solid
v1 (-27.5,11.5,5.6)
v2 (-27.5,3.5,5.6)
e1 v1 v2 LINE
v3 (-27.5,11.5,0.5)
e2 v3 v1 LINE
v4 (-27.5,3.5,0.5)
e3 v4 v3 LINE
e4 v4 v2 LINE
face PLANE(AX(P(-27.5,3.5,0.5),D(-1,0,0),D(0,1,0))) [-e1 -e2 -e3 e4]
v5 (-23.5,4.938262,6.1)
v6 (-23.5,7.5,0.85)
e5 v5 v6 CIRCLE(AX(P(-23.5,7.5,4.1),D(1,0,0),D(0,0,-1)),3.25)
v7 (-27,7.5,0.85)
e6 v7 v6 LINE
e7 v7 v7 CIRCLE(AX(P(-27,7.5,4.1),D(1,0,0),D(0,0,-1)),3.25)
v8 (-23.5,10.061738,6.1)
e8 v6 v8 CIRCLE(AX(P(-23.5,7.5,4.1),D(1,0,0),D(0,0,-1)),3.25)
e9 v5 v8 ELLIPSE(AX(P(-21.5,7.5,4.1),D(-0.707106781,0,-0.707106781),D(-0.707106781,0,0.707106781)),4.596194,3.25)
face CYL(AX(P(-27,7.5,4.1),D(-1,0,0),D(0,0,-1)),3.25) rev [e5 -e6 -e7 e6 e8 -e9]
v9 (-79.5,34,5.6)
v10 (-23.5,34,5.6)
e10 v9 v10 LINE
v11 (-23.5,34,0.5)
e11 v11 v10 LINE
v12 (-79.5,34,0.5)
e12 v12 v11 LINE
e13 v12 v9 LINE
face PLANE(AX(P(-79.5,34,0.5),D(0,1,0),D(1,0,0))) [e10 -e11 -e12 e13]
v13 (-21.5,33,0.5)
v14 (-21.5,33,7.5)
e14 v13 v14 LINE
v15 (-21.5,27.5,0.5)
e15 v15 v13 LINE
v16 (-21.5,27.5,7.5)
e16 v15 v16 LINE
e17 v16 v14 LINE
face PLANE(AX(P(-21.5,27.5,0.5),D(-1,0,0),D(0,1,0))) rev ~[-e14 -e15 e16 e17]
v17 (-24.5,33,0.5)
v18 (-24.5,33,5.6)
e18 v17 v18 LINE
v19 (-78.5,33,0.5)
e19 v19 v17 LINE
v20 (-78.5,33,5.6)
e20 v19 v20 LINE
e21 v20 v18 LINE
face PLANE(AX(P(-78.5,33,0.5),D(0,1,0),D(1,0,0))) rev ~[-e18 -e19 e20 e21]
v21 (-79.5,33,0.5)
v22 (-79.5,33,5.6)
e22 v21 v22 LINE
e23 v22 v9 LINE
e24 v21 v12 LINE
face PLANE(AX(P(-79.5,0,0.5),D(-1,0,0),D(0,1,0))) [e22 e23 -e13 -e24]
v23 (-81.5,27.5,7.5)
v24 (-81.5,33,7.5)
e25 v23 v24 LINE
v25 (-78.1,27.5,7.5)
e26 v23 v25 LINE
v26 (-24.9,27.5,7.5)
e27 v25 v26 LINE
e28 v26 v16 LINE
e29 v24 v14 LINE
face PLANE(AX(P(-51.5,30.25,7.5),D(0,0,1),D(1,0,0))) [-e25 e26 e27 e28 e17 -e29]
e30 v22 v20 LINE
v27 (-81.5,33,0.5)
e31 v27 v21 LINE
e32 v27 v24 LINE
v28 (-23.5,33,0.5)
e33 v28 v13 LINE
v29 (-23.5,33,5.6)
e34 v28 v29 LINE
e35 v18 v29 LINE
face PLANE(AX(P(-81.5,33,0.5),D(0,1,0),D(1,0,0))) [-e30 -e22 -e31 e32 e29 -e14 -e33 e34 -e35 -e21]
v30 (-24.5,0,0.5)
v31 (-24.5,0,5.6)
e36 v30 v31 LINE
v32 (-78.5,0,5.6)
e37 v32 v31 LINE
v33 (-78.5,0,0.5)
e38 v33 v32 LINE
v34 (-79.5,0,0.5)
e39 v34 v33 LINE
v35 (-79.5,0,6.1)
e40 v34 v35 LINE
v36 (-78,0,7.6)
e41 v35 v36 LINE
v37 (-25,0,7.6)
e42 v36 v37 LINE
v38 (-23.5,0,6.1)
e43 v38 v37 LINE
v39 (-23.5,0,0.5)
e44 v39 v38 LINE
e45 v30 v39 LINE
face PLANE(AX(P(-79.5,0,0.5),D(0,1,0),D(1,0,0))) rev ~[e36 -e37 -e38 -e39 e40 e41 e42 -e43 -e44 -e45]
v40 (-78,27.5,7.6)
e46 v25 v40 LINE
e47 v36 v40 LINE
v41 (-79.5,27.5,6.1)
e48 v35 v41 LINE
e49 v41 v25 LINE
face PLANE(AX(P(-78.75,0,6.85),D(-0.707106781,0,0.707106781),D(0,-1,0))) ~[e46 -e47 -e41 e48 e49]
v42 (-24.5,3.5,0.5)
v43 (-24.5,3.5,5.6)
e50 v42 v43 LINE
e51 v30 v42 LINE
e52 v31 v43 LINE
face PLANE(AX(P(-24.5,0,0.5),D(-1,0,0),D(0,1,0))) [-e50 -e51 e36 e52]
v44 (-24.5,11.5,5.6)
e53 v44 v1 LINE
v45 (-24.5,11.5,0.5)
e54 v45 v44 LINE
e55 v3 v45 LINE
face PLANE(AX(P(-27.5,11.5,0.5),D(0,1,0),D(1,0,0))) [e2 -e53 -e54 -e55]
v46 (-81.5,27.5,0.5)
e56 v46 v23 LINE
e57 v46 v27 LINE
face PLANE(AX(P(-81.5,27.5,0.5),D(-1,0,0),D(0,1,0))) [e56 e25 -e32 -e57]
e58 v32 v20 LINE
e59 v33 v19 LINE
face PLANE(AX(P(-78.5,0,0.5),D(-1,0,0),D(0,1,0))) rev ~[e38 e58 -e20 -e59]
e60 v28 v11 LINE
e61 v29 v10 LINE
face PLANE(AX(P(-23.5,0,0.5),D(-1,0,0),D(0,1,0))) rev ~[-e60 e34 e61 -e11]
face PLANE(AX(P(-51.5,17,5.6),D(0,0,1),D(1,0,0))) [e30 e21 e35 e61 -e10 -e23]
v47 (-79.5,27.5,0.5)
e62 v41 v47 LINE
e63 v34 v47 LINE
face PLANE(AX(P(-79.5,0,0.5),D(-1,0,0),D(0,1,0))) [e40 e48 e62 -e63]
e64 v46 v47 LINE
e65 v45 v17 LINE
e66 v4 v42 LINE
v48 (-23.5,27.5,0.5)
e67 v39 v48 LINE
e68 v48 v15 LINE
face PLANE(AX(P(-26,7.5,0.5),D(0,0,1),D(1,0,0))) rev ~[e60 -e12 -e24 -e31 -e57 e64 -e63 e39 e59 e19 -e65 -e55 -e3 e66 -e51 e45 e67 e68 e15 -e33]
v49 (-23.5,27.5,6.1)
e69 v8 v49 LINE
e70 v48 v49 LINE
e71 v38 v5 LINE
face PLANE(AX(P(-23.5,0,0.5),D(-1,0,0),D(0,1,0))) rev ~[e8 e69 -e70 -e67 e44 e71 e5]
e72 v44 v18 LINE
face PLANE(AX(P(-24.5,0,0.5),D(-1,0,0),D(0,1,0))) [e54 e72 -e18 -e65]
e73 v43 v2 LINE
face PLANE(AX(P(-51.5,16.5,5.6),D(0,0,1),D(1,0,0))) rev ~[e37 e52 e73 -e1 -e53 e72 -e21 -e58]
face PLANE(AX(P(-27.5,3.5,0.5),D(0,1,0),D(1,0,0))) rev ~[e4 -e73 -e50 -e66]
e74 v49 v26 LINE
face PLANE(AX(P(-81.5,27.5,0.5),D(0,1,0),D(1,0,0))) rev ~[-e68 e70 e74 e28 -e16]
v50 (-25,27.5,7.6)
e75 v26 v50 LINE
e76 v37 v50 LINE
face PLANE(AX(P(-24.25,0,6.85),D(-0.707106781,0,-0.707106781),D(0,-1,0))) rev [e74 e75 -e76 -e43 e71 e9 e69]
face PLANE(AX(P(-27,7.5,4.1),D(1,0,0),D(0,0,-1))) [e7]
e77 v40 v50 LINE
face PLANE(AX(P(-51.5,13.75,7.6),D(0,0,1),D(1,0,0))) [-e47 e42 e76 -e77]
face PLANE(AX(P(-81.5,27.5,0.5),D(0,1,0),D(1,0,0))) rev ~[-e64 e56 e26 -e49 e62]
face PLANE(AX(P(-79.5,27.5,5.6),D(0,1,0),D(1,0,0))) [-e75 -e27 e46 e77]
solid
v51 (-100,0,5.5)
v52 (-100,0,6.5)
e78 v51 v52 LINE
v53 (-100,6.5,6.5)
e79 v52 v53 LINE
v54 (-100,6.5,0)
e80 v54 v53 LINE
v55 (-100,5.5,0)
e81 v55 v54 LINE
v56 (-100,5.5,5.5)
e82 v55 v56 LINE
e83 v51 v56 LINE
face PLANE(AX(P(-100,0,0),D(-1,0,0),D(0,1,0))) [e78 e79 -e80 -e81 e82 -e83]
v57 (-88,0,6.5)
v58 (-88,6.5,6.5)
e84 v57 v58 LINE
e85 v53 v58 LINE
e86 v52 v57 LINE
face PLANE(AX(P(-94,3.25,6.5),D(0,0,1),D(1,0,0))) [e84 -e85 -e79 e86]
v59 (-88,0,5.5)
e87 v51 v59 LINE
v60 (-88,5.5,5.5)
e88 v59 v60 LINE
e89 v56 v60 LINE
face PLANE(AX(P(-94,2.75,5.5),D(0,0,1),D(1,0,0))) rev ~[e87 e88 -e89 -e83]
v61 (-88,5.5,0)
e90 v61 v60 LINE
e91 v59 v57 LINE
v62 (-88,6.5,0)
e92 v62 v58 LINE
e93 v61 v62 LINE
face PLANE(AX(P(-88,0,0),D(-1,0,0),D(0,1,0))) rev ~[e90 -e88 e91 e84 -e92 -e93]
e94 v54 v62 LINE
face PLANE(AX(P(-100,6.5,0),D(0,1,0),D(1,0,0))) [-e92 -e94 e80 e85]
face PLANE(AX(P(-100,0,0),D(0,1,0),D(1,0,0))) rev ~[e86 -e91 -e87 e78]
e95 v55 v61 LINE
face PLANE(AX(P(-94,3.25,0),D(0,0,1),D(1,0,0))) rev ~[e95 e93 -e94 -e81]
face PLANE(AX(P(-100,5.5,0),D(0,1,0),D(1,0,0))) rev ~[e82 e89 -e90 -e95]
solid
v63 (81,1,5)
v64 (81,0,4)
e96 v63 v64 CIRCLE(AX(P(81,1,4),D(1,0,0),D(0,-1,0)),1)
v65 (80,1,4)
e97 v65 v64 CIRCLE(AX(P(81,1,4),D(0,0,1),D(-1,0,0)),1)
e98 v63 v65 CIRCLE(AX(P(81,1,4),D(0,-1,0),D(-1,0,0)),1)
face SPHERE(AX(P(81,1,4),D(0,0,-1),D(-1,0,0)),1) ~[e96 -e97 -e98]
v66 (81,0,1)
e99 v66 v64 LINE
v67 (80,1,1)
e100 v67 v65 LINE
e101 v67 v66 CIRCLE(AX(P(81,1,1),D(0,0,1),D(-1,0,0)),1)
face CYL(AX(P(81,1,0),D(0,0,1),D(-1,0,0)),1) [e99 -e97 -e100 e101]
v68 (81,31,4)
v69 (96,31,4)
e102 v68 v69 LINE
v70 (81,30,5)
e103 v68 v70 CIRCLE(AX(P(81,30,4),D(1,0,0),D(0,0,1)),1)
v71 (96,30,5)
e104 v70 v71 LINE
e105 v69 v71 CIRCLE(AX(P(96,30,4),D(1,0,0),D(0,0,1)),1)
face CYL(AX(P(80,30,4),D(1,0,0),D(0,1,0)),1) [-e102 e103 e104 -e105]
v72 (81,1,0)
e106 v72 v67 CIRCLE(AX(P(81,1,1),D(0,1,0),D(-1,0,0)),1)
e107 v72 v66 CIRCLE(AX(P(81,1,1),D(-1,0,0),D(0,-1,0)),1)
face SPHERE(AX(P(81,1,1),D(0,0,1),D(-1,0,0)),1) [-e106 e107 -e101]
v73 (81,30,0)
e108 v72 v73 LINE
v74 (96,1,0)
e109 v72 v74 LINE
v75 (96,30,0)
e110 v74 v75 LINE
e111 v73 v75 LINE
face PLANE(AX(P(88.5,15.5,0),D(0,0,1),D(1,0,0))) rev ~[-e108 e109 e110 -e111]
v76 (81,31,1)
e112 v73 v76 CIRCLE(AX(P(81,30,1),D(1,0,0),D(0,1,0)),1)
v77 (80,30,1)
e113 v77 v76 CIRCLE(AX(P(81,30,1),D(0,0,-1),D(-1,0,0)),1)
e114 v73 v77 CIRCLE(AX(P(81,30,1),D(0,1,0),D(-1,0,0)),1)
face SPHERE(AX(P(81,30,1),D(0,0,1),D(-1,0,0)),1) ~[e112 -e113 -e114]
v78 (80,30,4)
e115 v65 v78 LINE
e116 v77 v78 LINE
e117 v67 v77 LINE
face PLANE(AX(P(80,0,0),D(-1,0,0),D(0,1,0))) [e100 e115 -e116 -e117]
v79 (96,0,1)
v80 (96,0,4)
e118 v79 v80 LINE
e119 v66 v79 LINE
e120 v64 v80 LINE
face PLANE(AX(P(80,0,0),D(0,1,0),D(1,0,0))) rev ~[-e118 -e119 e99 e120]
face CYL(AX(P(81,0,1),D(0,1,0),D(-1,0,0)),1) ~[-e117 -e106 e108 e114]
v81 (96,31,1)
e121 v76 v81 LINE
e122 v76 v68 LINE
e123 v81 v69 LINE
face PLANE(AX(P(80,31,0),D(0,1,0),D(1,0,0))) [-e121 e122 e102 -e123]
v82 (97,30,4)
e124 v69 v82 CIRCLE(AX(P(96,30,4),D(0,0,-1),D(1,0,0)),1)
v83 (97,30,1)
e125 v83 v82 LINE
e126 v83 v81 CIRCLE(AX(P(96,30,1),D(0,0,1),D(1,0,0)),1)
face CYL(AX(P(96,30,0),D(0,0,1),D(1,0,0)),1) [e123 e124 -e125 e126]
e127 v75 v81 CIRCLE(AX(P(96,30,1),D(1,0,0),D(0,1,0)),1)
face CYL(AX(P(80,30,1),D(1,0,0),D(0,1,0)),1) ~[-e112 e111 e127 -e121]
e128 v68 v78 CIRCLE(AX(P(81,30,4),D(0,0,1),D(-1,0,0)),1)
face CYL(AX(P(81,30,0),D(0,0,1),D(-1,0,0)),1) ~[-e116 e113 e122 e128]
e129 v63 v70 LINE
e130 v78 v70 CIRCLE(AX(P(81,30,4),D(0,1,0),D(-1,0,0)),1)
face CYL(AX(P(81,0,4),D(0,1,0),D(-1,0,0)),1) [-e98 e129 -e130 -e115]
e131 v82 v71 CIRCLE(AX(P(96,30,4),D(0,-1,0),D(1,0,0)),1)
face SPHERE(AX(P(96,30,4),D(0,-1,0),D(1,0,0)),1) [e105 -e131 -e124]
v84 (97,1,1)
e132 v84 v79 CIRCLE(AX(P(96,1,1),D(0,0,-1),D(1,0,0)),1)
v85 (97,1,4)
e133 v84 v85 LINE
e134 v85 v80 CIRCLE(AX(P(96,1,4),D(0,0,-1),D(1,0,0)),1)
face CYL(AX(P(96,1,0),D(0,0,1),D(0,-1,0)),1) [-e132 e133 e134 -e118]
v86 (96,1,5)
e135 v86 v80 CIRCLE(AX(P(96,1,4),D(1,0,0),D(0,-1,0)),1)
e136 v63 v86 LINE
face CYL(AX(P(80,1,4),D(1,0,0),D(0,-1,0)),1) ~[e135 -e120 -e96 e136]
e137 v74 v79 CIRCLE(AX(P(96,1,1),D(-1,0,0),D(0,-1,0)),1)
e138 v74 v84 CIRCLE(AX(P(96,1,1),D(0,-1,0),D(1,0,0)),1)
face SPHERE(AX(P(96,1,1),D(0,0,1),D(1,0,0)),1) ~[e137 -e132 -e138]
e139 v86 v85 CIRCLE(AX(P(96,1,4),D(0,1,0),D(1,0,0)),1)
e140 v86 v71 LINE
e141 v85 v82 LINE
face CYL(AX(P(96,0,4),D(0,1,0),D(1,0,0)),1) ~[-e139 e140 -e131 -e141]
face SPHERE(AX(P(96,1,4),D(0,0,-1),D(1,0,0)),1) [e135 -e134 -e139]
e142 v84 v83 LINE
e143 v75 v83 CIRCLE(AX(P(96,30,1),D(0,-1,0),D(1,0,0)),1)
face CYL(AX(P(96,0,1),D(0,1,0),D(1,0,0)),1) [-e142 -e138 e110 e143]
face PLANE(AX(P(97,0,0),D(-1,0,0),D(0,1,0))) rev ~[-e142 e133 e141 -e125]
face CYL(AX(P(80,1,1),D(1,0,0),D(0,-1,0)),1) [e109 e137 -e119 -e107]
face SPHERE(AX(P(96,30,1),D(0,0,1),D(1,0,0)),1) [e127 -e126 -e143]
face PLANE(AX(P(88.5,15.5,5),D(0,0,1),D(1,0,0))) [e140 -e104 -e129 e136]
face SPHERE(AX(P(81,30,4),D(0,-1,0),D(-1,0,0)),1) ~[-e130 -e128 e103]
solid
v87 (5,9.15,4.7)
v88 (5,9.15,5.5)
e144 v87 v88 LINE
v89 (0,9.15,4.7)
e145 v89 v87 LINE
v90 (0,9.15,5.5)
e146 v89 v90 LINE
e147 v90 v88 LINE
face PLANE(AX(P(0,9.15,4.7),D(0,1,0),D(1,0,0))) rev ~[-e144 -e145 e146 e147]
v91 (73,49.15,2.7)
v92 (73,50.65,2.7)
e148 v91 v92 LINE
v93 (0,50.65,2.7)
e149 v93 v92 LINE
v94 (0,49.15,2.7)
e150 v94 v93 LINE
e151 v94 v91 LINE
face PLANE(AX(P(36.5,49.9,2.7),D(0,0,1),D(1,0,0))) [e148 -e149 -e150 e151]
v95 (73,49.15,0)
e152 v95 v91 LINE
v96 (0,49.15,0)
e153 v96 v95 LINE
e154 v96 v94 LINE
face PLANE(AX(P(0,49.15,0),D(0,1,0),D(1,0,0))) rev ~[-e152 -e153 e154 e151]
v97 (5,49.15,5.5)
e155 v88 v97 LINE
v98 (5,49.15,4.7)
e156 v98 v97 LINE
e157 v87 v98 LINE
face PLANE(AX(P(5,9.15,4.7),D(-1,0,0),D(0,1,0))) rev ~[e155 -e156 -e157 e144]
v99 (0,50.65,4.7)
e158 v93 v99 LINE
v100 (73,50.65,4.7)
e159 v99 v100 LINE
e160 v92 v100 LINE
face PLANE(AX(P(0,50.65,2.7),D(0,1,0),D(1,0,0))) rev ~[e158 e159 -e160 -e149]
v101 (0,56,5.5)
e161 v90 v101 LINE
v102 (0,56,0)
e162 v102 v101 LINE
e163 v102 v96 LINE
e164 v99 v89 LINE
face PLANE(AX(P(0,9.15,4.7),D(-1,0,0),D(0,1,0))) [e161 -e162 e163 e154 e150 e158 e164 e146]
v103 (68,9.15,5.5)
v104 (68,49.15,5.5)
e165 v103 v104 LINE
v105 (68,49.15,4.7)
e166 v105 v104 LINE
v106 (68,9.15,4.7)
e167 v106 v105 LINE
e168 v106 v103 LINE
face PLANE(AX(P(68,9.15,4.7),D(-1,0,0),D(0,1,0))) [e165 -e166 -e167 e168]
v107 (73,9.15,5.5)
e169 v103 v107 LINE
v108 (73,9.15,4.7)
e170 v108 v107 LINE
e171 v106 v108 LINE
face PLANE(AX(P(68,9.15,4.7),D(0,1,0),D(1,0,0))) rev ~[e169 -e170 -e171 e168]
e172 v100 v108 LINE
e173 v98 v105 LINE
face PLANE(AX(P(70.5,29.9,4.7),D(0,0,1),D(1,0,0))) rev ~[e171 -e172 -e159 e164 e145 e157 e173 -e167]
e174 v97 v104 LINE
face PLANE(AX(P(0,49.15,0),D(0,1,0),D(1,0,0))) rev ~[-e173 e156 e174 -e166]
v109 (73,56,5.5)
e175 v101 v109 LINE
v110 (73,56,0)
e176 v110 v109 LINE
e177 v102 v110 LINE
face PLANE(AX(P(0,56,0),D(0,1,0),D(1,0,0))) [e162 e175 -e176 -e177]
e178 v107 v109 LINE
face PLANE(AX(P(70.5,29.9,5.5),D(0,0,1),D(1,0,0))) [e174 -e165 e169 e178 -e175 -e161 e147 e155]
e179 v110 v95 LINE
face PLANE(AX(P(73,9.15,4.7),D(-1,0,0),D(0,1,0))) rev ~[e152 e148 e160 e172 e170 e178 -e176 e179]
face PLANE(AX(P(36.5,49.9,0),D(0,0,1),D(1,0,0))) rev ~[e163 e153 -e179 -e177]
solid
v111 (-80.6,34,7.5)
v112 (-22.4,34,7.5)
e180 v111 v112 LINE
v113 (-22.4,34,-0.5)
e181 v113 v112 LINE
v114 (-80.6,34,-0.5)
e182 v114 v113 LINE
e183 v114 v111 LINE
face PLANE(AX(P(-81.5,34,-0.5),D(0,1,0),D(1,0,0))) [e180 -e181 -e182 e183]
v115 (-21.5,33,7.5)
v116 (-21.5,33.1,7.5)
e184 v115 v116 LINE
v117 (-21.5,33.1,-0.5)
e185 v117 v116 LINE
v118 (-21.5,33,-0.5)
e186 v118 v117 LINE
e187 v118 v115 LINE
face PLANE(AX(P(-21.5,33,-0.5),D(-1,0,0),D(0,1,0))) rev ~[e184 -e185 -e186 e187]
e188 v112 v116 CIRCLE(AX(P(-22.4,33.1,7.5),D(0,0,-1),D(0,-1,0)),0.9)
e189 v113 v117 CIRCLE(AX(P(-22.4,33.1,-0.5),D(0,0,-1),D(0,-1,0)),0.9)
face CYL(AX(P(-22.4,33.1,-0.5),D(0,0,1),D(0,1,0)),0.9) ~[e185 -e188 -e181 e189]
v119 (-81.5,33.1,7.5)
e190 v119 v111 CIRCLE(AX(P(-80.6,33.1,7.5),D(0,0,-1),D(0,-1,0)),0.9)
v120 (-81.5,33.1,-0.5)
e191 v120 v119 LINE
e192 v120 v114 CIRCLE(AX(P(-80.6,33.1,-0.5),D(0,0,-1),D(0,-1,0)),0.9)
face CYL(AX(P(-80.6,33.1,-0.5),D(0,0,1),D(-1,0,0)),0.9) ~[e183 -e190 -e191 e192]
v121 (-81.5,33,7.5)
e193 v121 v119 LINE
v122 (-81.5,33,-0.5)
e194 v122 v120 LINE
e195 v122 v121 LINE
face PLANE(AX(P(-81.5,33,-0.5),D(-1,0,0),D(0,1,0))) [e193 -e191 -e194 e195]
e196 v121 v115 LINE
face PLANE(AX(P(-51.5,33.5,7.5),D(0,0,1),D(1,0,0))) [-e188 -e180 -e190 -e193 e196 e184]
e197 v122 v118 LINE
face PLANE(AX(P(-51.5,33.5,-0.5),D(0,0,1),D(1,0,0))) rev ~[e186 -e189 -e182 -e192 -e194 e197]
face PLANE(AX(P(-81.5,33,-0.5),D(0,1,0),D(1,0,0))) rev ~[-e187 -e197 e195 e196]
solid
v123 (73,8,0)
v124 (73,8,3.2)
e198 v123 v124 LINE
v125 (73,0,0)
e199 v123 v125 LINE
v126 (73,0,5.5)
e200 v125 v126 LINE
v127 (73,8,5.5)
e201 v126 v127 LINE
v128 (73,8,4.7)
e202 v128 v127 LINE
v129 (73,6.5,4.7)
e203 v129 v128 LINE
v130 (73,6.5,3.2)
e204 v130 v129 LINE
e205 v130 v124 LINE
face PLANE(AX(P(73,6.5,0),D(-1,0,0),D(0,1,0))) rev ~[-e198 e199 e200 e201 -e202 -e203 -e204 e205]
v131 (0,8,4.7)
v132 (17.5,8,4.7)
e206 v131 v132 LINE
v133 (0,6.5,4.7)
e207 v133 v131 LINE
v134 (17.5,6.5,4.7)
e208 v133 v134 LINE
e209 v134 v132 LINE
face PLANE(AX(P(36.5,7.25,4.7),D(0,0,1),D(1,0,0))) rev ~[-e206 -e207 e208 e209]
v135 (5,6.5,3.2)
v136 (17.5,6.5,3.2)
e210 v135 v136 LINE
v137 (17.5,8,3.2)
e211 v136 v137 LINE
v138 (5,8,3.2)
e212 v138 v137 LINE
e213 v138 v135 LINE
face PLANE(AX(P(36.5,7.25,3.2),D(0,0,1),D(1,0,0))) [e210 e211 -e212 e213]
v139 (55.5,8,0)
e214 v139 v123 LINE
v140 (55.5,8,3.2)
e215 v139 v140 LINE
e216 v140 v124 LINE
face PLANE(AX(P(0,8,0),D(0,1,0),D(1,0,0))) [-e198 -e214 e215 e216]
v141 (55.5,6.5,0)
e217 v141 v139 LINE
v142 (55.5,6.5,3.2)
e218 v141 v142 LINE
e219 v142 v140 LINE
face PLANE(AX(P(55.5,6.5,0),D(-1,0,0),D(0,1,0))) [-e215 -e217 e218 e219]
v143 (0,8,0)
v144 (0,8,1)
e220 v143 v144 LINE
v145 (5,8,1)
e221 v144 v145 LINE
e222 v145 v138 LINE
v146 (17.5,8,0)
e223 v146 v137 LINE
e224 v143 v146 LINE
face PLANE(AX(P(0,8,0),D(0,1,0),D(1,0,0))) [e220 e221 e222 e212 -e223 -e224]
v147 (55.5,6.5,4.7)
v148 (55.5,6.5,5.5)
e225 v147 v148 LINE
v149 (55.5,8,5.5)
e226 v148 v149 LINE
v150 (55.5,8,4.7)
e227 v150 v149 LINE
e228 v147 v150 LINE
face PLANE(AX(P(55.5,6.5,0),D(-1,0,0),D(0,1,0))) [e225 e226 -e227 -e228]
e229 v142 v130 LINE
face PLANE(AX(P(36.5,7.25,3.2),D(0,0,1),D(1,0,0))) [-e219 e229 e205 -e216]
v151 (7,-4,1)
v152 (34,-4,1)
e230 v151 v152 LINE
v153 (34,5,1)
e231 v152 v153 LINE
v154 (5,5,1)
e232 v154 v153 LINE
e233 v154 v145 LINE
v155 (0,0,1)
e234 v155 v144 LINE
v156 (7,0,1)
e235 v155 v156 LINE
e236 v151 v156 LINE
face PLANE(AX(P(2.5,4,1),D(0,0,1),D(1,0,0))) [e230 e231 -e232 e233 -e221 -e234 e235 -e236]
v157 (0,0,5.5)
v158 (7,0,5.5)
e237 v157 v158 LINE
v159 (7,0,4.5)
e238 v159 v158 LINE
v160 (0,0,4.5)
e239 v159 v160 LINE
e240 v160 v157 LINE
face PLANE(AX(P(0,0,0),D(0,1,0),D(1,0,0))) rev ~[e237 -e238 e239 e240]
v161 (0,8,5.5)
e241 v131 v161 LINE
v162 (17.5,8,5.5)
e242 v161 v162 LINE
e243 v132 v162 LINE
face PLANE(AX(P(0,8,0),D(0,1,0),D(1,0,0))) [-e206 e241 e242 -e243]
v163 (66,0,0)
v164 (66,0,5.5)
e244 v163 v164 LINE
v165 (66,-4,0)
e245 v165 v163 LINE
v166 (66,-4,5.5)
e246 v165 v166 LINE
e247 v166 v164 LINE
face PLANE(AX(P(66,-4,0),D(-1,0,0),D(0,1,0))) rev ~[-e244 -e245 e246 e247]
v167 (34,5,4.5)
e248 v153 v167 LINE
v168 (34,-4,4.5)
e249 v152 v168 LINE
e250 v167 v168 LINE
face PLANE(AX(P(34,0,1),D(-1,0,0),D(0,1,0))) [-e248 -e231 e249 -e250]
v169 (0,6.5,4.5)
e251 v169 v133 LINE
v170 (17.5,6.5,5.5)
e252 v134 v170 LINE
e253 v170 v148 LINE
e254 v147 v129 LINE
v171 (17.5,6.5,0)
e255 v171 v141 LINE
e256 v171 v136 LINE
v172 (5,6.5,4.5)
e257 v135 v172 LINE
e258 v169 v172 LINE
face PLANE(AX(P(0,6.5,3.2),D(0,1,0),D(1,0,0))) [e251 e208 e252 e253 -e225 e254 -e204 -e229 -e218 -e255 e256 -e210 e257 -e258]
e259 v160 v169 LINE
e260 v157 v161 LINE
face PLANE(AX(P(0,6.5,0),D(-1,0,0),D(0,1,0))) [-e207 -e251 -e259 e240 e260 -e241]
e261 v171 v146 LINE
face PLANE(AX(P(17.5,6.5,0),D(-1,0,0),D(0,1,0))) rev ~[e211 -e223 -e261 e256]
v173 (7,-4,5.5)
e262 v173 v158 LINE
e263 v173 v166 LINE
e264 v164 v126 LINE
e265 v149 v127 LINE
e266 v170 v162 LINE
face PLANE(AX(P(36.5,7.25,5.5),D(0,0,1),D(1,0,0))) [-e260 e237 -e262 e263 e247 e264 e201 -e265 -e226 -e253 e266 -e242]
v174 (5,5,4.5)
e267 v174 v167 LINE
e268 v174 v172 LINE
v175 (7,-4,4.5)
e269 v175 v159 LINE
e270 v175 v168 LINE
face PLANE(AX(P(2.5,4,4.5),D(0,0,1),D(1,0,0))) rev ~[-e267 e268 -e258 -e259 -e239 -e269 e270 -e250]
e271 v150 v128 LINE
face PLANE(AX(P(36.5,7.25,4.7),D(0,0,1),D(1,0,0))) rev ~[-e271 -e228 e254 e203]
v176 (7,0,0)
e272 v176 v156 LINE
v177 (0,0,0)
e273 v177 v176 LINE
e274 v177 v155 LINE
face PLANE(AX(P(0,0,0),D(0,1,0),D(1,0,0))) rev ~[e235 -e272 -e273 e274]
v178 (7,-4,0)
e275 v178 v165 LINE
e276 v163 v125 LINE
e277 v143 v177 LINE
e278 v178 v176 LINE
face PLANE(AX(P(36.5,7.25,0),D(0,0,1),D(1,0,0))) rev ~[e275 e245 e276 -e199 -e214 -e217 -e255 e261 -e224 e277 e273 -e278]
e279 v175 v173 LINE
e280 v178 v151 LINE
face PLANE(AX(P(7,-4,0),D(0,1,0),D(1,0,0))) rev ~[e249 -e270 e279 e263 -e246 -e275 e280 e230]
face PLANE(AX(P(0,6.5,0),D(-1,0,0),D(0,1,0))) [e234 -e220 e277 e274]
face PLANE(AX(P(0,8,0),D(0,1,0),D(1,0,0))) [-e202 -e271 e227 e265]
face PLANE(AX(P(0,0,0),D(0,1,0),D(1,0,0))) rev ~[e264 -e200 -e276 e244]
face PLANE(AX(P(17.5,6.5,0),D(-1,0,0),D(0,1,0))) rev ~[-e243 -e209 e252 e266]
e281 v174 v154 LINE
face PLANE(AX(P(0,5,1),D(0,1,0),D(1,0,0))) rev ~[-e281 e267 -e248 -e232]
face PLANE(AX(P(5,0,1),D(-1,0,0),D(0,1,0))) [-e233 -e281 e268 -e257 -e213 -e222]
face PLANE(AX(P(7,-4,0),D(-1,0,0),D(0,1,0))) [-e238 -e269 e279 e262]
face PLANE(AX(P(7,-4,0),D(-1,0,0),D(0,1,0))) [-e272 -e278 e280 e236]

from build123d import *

# Parameters (mm, degrees)
BOX012_W          = 5
BOX012_H          = 41.5
BOX012_DEPTH      = 0.8
BOX013_W          = 5
BOX013_H          = 41.5
BOX013_DEPTH      = 0.8
BOX008_W          = 73
BOX008_H          = 1.5
BOX008_DEPTH      = 2
BOX007_W          = 73
BOX007_H          = 1.5
BOX007_DEPTH      = 5.5
BOX005_W          = 73
BOX005_H          = 5.35
BOX005_DEPTH      = 5.5
BOX015_W          = 34
BOX015_H          = 5
BOX015_DEPTH      = 3.5
BOX016_W          = 27
BOX016_H          = 4
BOX016_DEPTH      = 3.5
BOX014_W          = 5
BOX014_H          = 8
BOX014_DEPTH      = 3.5
BOX010_W          = 73
BOX010_H          = 1.5
BOX010_DEPTH      = 1.5
BOX011_W          = 38
BOX011_H          = 1.5
BOX011_DEPTH      = 5.5
BOX001_W          = 73
BOX001_H          = 6.5
BOX001_DEPTH      = 5.5
BOX009_W          = 73
BOX009_H          = 1.5
BOX009_DEPTH      = 5.5
BOX002_W          = 59
BOX002_H          = 4
BOX002_DEPTH      = 5.5
BOX044_W          = 17
BOX044_H          = 31
BOX044_DEPTH      = 5
FILLET007_R       = 1
BOX046_W          = 12
BOX046_H          = 5.5
BOX046_DEPTH      = 5.5
BOX045_W          = 12
BOX045_H          = 6.5
BOX045_DEPTH      = 6.5
CYLINDER005_R     = 3.25
CYLINDER005_DEPTH = 3.5
BOX043_W          = 3
BOX043_H          = 8
BOX043_DEPTH      = 5.5
BOX017_W          = 54
BOX017_H          = 33
BOX017_DEPTH      = 5.1
BOX026_W          = 60
BOX026_H          = 5.5
BOX026_DEPTH      = 7
BOX_W             = 56
BOX_H             = 34
BOX_DEPTH         = 5.1
BOX025_W          = 56
BOX025_H          = 27.5
BOX025_DEPTH      = 2
CHAMFER_SIZE      = 1.5
BOX047_W          = 60
BOX047_H          = 1
BOX047_DEPTH      = 8
FILLET_R          = 0.9
FILLET008_R       = 0.9


with BuildPart() as cube_front_cover_left:
    # Box012 → Box012 (new body)
    with BuildSketch(Plane(origin=(0, 9.15, 4.7), x_dir=(1, 0, 0), z_dir=(0, 0, 1))):
        with Locations((2.5, 20.75)):
            Rectangle(BOX012_W, BOX012_H)
    extrude(amount=BOX012_DEPTH)


with BuildPart() as cube_front_cover_right:
    # Box013 → Box013 (new body)
    with BuildSketch(Plane(origin=(68, 9.15, 4.7), x_dir=(1, 0, 0), z_dir=(0, 0, 1))):
        with Locations((2.5, 20.75)):
            Rectangle(BOX013_W, BOX013_H)
    extrude(amount=BOX013_DEPTH)


with BuildPart() as cube_screen_surround_top_groove_inner:
    # Box008 → Box008 (new body)
    with BuildSketch(Plane(origin=(0, 49.15, 2.7), x_dir=(1, 0, 0), z_dir=(0, 0, 1))):
        with Locations((36.5, 0.75)):
            Rectangle(BOX008_W, BOX008_H)
    extrude(amount=BOX008_DEPTH)


with BuildPart() as cube_screen_surround_top_groove_outer:
    # Box007 → Box007 (new body)
    with BuildSketch(Plane(origin=(0, 49.15, 0), x_dir=(1, 0, 0), z_dir=(0, 0, 1))):
        with Locations((36.5, 0.75)):
            Rectangle(BOX007_W, BOX007_H)
    extrude(amount=BOX007_DEPTH)


with BuildPart() as fusion002:
    # Box005 → Box005 (new body)
    with BuildSketch(Plane(origin=(0, 50.65, 0), x_dir=(1, 0, 0), z_dir=(0, 0, 1))):
        with Locations((36.5, 2.675)):
            Rectangle(BOX005_W, BOX005_H)
    extrude(amount=BOX005_DEPTH)

    # Fusion001: union Cube(screen_surround_top_groove_outer)
    add(cube_screen_surround_top_groove_outer.part)

    # Cut002: cut Cube(screen_surround_top_groove_inner)
    add(cube_screen_surround_top_groove_inner.part, mode=Mode.SUBTRACT)

    # Fusion002: union Cube(front_cover_left), Cube(front_cover_right)
    add(cube_front_cover_left.part)
    add(cube_front_cover_right.part)


with BuildPart() as cube001_wire_cutter_left_bottom:
    # Box015 → Box015 (new body)
    with BuildSketch(Plane.XY.offset(1)):
        with Locations((17, 2.5)):
            Rectangle(BOX015_W, BOX015_H)
    extrude(amount=BOX015_DEPTH)


with BuildPart() as cube002_wire_cutter_bottom:
    # Box016 → Box016 (new body)
    with BuildSketch(Plane(origin=(7, -4, 1), x_dir=(1, 0, 0), z_dir=(0, 0, 1))):
        with Locations((13.5, 2)):
            Rectangle(BOX016_W, BOX016_H)
    extrude(amount=BOX016_DEPTH)


with BuildPart() as cube_wire_cutter_left:
    # Box014 → Box014 (new body)
    with BuildSketch(Plane.XY.offset(1)):
        with Locations((2.5, 4)):
            Rectangle(BOX014_W, BOX014_H)
    extrude(amount=BOX014_DEPTH)


with BuildPart() as cube_screen_surround_bottom_groove_inner:
    # Box010 → Box010 (new body)
    with BuildSketch(Plane(origin=(0, 6.5, 3.2), x_dir=(1, 0, 0), z_dir=(0, 0, 1))):
        with Locations((36.5, 0.75)):
            Rectangle(BOX010_W, BOX010_H)
    extrude(amount=BOX010_DEPTH)


with BuildPart() as box011:
    # Box011 → Box011 (new body)
    with BuildSketch(Plane(origin=(17.5, 6.5, 0), x_dir=(1, 0, 0), z_dir=(0, 0, 1))):
        with Locations((19, 0.75)):
            Rectangle(BOX011_W, BOX011_H)
    extrude(amount=BOX011_DEPTH)


with BuildPart() as cube_screen_surround_buttom:
    # Box001 → Box001 (new body)
    with BuildSketch(Plane.XY):
        with Locations((36.5, 3.25)):
            Rectangle(BOX001_W, BOX001_H)
    extrude(amount=BOX001_DEPTH)


with BuildPart() as cube_screen_surround_bottom_groove_outer:
    # Box009 → Box009 (new body)
    with BuildSketch(Plane(origin=(0, 6.5, 0), x_dir=(1, 0, 0), z_dir=(0, 0, 1))):
        with Locations((36.5, 0.75)):
            Rectangle(BOX009_W, BOX009_H)
    extrude(amount=BOX009_DEPTH)


with BuildPart() as cut006:
    # Box002 → Box002 (new body)
    with BuildSketch(Plane(origin=(7, -4, 0), x_dir=(1, 0, 0), z_dir=(0, 0, 1))):
        with Locations((29.5, 2)):
            Rectangle(BOX002_W, BOX002_H)
    extrude(amount=BOX002_DEPTH)

    # Fusion: union Cube(screen_surround_buttom), Cube(screen_surround_bottom_groove_outer)
    add(cube_screen_surround_buttom.part)
    add(cube_screen_surround_bottom_groove_outer.part)

    # Cut: cut Box011
    add(box011.part, mode=Mode.SUBTRACT)

    # Cut003: cut Cube(screen_surround_bottom_groove_inner)
    add(cube_screen_surround_bottom_groove_inner.part, mode=Mode.SUBTRACT)

    # Cut004: cut Cube(wire_cutter_left)
    add(cube_wire_cutter_left.part, mode=Mode.SUBTRACT)

    # Cut005: cut Cube002(wire_cutter_bottom)
    add(cube002_wire_cutter_bottom.part, mode=Mode.SUBTRACT)

    # Cut006: cut Cube001(wire_cutter_left_bottom)
    add(cube001_wire_cutter_left_bottom.part, mode=Mode.SUBTRACT)


with BuildPart() as fillet007_battery_shim:
    # Box044 → Box044 (new body)
    with BuildSketch(Plane(origin=(80, 0, 0), x_dir=(1, 0, 0), z_dir=(0, 0, 1))):
        with Locations((8.5, 15.5)):
            Rectangle(BOX044_W, BOX044_H)
    extrude(amount=BOX044_DEPTH)

    # Fillet007
    fillet007_edges = [fillet007_battery_shim.edges().sort_by_distance(p)[0] for p in [
        (80, 0, 2.5),
        (80, 15.5, 5),
        (80, 31, 2.5),
        (80, 15.5, 0),
        (97, 0, 2.5),
        (97, 15.5, 5),
        (97, 31, 2.5),
        (97, 15.5, 0),
        (88.5, 0, 0),
        (88.5, 0, 5),
        (88.5, 31, 0),
        (88.5, 31, 5),
    ]]
    fillet(fillet007_edges, radius=FILLET007_R)


with BuildPart() as cube011_port_cover_inner:
    # Box046 → Box046 (new body)
    with BuildSketch(Plane(origin=(-100, 0, 0), x_dir=(1, 0, 0), z_dir=(0, 0, 1))):
        with Locations((6, 2.75)):
            Rectangle(BOX046_W, BOX046_H)
    extrude(amount=BOX046_DEPTH)


with BuildPart() as cut032_port_cover:
    # Box045 → Box045 (new body)
    with BuildSketch(Plane(origin=(-100, 0, 0), x_dir=(1, 0, 0), z_dir=(0, 0, 1))):
        with Locations((6, 3.25)):
            Rectangle(BOX045_W, BOX045_H)
    extrude(amount=BOX045_DEPTH)

    # Cut032: cut Cube011(port_cover_inner)
    add(cube011_port_cover_inner.part, mode=Mode.SUBTRACT)


with BuildPart() as cylinder003_magnet:
    # Cylinder005 → Cylinder005 (new body)
    with BuildSketch(Plane(origin=(-27, 7.5, 4.1), x_dir=(0, 0, -1), z_dir=(1, 0, 0))):
        Circle(CYLINDER005_R)
    extrude(amount=CYLINDER005_DEPTH)


with BuildPart() as cube010_magnet_back:
    # Box043 → Box043 (new body)
    with BuildSketch(Plane(origin=(-27.5, 3.5, 0.5), x_dir=(1, 0, 0), z_dir=(0, 0, 1))):
        with Locations((1.5, 4)):
            Rectangle(BOX043_W, BOX043_H)
    extrude(amount=BOX043_DEPTH)


with BuildPart() as cube_inner:
    # Box017 → Box017 (new body)
    with BuildSketch(Plane(origin=(-78.5, 0, 0.5), x_dir=(1, 0, 0), z_dir=(0, 0, 1))):
        with Locations((27, 16.5)):
            Rectangle(BOX017_W, BOX017_H)
    extrude(amount=BOX017_DEPTH)


with BuildPart() as cube002_lid_top:
    # Box026 → Box026 (new body)
    with BuildSketch(Plane(origin=(-81.5, 27.5, 0.5), x_dir=(1, 0, 0), z_dir=(0, 0, 1))):
        with Locations((30, 2.75)):
            Rectangle(BOX026_W, BOX026_H)
    extrude(amount=BOX026_DEPTH)


with BuildPart() as cube_outer:
    # Box → Box (new body)
    with BuildSketch(Plane(origin=(-79.5, 0, 0.5), x_dir=(1, 0, 0), z_dir=(0, 0, 1))):
        with Locations((28, 17)):
            Rectangle(BOX_W, BOX_H)
    extrude(amount=BOX_DEPTH)


with BuildPart() as cut034:
    # Box025 → Box025 (new body)
    with BuildSketch(Plane(origin=(-79.5, 0, 5.6), x_dir=(1, 0, 0), z_dir=(0, 0, 1))):
        with Locations((28, 13.75)):
            Rectangle(BOX025_W, BOX025_H)
    extrude(amount=BOX025_DEPTH)

    # Chamfer
    chamfer_edges = [cut034.edges().sort_by_distance(p)[0] for p in [
        (-79.5, 13.75, 7.6),
        (-23.5, 13.75, 7.6),
    ]]
    chamfer(chamfer_edges, length=CHAMFER_SIZE)

    # Fusion003: union Cube002(lid_top), Cube(outer)
    add(cube002_lid_top.part)
    add(cube_outer.part)

    # Cut033: cut Cube(inner)
    add(cube_inner.part, mode=Mode.SUBTRACT)

    # Fusion004: union Cube010(magnet_back)
    add(cube010_magnet_back.part)

    # Cut034: cut Cylinder003(magnet)
    add(cylinder003_magnet.part, mode=Mode.SUBTRACT)


with BuildPart() as fillet008:
    # Box047 → Box047 (new body)
    with BuildSketch(Plane(origin=(-81.5, 33, -0.5), x_dir=(1, 0, 0), z_dir=(0, 0, 1))):
        with Locations((30, 0.5)):
            Rectangle(BOX047_W, BOX047_H)
    extrude(amount=BOX047_DEPTH)

    # Fillet
    fillet_edges = [fillet008.edges().sort_by_distance(p)[0] for p in [
        (-81.5, 34, 3.5),
    ]]
    fillet(fillet_edges, radius=FILLET_R)

    # Fillet008
    fillet008_edges = [fillet008.edges().sort_by_distance(p)[0] for p in [
        (-21.5, 34, 3.5),
    ]]
    fillet(fillet008_edges, radius=FILLET008_R)


solid = Compound([fusion002.part, cut006.part, fillet007_battery_shim.part, cut032_port_cover.part, cut034.part, fillet008.part])
